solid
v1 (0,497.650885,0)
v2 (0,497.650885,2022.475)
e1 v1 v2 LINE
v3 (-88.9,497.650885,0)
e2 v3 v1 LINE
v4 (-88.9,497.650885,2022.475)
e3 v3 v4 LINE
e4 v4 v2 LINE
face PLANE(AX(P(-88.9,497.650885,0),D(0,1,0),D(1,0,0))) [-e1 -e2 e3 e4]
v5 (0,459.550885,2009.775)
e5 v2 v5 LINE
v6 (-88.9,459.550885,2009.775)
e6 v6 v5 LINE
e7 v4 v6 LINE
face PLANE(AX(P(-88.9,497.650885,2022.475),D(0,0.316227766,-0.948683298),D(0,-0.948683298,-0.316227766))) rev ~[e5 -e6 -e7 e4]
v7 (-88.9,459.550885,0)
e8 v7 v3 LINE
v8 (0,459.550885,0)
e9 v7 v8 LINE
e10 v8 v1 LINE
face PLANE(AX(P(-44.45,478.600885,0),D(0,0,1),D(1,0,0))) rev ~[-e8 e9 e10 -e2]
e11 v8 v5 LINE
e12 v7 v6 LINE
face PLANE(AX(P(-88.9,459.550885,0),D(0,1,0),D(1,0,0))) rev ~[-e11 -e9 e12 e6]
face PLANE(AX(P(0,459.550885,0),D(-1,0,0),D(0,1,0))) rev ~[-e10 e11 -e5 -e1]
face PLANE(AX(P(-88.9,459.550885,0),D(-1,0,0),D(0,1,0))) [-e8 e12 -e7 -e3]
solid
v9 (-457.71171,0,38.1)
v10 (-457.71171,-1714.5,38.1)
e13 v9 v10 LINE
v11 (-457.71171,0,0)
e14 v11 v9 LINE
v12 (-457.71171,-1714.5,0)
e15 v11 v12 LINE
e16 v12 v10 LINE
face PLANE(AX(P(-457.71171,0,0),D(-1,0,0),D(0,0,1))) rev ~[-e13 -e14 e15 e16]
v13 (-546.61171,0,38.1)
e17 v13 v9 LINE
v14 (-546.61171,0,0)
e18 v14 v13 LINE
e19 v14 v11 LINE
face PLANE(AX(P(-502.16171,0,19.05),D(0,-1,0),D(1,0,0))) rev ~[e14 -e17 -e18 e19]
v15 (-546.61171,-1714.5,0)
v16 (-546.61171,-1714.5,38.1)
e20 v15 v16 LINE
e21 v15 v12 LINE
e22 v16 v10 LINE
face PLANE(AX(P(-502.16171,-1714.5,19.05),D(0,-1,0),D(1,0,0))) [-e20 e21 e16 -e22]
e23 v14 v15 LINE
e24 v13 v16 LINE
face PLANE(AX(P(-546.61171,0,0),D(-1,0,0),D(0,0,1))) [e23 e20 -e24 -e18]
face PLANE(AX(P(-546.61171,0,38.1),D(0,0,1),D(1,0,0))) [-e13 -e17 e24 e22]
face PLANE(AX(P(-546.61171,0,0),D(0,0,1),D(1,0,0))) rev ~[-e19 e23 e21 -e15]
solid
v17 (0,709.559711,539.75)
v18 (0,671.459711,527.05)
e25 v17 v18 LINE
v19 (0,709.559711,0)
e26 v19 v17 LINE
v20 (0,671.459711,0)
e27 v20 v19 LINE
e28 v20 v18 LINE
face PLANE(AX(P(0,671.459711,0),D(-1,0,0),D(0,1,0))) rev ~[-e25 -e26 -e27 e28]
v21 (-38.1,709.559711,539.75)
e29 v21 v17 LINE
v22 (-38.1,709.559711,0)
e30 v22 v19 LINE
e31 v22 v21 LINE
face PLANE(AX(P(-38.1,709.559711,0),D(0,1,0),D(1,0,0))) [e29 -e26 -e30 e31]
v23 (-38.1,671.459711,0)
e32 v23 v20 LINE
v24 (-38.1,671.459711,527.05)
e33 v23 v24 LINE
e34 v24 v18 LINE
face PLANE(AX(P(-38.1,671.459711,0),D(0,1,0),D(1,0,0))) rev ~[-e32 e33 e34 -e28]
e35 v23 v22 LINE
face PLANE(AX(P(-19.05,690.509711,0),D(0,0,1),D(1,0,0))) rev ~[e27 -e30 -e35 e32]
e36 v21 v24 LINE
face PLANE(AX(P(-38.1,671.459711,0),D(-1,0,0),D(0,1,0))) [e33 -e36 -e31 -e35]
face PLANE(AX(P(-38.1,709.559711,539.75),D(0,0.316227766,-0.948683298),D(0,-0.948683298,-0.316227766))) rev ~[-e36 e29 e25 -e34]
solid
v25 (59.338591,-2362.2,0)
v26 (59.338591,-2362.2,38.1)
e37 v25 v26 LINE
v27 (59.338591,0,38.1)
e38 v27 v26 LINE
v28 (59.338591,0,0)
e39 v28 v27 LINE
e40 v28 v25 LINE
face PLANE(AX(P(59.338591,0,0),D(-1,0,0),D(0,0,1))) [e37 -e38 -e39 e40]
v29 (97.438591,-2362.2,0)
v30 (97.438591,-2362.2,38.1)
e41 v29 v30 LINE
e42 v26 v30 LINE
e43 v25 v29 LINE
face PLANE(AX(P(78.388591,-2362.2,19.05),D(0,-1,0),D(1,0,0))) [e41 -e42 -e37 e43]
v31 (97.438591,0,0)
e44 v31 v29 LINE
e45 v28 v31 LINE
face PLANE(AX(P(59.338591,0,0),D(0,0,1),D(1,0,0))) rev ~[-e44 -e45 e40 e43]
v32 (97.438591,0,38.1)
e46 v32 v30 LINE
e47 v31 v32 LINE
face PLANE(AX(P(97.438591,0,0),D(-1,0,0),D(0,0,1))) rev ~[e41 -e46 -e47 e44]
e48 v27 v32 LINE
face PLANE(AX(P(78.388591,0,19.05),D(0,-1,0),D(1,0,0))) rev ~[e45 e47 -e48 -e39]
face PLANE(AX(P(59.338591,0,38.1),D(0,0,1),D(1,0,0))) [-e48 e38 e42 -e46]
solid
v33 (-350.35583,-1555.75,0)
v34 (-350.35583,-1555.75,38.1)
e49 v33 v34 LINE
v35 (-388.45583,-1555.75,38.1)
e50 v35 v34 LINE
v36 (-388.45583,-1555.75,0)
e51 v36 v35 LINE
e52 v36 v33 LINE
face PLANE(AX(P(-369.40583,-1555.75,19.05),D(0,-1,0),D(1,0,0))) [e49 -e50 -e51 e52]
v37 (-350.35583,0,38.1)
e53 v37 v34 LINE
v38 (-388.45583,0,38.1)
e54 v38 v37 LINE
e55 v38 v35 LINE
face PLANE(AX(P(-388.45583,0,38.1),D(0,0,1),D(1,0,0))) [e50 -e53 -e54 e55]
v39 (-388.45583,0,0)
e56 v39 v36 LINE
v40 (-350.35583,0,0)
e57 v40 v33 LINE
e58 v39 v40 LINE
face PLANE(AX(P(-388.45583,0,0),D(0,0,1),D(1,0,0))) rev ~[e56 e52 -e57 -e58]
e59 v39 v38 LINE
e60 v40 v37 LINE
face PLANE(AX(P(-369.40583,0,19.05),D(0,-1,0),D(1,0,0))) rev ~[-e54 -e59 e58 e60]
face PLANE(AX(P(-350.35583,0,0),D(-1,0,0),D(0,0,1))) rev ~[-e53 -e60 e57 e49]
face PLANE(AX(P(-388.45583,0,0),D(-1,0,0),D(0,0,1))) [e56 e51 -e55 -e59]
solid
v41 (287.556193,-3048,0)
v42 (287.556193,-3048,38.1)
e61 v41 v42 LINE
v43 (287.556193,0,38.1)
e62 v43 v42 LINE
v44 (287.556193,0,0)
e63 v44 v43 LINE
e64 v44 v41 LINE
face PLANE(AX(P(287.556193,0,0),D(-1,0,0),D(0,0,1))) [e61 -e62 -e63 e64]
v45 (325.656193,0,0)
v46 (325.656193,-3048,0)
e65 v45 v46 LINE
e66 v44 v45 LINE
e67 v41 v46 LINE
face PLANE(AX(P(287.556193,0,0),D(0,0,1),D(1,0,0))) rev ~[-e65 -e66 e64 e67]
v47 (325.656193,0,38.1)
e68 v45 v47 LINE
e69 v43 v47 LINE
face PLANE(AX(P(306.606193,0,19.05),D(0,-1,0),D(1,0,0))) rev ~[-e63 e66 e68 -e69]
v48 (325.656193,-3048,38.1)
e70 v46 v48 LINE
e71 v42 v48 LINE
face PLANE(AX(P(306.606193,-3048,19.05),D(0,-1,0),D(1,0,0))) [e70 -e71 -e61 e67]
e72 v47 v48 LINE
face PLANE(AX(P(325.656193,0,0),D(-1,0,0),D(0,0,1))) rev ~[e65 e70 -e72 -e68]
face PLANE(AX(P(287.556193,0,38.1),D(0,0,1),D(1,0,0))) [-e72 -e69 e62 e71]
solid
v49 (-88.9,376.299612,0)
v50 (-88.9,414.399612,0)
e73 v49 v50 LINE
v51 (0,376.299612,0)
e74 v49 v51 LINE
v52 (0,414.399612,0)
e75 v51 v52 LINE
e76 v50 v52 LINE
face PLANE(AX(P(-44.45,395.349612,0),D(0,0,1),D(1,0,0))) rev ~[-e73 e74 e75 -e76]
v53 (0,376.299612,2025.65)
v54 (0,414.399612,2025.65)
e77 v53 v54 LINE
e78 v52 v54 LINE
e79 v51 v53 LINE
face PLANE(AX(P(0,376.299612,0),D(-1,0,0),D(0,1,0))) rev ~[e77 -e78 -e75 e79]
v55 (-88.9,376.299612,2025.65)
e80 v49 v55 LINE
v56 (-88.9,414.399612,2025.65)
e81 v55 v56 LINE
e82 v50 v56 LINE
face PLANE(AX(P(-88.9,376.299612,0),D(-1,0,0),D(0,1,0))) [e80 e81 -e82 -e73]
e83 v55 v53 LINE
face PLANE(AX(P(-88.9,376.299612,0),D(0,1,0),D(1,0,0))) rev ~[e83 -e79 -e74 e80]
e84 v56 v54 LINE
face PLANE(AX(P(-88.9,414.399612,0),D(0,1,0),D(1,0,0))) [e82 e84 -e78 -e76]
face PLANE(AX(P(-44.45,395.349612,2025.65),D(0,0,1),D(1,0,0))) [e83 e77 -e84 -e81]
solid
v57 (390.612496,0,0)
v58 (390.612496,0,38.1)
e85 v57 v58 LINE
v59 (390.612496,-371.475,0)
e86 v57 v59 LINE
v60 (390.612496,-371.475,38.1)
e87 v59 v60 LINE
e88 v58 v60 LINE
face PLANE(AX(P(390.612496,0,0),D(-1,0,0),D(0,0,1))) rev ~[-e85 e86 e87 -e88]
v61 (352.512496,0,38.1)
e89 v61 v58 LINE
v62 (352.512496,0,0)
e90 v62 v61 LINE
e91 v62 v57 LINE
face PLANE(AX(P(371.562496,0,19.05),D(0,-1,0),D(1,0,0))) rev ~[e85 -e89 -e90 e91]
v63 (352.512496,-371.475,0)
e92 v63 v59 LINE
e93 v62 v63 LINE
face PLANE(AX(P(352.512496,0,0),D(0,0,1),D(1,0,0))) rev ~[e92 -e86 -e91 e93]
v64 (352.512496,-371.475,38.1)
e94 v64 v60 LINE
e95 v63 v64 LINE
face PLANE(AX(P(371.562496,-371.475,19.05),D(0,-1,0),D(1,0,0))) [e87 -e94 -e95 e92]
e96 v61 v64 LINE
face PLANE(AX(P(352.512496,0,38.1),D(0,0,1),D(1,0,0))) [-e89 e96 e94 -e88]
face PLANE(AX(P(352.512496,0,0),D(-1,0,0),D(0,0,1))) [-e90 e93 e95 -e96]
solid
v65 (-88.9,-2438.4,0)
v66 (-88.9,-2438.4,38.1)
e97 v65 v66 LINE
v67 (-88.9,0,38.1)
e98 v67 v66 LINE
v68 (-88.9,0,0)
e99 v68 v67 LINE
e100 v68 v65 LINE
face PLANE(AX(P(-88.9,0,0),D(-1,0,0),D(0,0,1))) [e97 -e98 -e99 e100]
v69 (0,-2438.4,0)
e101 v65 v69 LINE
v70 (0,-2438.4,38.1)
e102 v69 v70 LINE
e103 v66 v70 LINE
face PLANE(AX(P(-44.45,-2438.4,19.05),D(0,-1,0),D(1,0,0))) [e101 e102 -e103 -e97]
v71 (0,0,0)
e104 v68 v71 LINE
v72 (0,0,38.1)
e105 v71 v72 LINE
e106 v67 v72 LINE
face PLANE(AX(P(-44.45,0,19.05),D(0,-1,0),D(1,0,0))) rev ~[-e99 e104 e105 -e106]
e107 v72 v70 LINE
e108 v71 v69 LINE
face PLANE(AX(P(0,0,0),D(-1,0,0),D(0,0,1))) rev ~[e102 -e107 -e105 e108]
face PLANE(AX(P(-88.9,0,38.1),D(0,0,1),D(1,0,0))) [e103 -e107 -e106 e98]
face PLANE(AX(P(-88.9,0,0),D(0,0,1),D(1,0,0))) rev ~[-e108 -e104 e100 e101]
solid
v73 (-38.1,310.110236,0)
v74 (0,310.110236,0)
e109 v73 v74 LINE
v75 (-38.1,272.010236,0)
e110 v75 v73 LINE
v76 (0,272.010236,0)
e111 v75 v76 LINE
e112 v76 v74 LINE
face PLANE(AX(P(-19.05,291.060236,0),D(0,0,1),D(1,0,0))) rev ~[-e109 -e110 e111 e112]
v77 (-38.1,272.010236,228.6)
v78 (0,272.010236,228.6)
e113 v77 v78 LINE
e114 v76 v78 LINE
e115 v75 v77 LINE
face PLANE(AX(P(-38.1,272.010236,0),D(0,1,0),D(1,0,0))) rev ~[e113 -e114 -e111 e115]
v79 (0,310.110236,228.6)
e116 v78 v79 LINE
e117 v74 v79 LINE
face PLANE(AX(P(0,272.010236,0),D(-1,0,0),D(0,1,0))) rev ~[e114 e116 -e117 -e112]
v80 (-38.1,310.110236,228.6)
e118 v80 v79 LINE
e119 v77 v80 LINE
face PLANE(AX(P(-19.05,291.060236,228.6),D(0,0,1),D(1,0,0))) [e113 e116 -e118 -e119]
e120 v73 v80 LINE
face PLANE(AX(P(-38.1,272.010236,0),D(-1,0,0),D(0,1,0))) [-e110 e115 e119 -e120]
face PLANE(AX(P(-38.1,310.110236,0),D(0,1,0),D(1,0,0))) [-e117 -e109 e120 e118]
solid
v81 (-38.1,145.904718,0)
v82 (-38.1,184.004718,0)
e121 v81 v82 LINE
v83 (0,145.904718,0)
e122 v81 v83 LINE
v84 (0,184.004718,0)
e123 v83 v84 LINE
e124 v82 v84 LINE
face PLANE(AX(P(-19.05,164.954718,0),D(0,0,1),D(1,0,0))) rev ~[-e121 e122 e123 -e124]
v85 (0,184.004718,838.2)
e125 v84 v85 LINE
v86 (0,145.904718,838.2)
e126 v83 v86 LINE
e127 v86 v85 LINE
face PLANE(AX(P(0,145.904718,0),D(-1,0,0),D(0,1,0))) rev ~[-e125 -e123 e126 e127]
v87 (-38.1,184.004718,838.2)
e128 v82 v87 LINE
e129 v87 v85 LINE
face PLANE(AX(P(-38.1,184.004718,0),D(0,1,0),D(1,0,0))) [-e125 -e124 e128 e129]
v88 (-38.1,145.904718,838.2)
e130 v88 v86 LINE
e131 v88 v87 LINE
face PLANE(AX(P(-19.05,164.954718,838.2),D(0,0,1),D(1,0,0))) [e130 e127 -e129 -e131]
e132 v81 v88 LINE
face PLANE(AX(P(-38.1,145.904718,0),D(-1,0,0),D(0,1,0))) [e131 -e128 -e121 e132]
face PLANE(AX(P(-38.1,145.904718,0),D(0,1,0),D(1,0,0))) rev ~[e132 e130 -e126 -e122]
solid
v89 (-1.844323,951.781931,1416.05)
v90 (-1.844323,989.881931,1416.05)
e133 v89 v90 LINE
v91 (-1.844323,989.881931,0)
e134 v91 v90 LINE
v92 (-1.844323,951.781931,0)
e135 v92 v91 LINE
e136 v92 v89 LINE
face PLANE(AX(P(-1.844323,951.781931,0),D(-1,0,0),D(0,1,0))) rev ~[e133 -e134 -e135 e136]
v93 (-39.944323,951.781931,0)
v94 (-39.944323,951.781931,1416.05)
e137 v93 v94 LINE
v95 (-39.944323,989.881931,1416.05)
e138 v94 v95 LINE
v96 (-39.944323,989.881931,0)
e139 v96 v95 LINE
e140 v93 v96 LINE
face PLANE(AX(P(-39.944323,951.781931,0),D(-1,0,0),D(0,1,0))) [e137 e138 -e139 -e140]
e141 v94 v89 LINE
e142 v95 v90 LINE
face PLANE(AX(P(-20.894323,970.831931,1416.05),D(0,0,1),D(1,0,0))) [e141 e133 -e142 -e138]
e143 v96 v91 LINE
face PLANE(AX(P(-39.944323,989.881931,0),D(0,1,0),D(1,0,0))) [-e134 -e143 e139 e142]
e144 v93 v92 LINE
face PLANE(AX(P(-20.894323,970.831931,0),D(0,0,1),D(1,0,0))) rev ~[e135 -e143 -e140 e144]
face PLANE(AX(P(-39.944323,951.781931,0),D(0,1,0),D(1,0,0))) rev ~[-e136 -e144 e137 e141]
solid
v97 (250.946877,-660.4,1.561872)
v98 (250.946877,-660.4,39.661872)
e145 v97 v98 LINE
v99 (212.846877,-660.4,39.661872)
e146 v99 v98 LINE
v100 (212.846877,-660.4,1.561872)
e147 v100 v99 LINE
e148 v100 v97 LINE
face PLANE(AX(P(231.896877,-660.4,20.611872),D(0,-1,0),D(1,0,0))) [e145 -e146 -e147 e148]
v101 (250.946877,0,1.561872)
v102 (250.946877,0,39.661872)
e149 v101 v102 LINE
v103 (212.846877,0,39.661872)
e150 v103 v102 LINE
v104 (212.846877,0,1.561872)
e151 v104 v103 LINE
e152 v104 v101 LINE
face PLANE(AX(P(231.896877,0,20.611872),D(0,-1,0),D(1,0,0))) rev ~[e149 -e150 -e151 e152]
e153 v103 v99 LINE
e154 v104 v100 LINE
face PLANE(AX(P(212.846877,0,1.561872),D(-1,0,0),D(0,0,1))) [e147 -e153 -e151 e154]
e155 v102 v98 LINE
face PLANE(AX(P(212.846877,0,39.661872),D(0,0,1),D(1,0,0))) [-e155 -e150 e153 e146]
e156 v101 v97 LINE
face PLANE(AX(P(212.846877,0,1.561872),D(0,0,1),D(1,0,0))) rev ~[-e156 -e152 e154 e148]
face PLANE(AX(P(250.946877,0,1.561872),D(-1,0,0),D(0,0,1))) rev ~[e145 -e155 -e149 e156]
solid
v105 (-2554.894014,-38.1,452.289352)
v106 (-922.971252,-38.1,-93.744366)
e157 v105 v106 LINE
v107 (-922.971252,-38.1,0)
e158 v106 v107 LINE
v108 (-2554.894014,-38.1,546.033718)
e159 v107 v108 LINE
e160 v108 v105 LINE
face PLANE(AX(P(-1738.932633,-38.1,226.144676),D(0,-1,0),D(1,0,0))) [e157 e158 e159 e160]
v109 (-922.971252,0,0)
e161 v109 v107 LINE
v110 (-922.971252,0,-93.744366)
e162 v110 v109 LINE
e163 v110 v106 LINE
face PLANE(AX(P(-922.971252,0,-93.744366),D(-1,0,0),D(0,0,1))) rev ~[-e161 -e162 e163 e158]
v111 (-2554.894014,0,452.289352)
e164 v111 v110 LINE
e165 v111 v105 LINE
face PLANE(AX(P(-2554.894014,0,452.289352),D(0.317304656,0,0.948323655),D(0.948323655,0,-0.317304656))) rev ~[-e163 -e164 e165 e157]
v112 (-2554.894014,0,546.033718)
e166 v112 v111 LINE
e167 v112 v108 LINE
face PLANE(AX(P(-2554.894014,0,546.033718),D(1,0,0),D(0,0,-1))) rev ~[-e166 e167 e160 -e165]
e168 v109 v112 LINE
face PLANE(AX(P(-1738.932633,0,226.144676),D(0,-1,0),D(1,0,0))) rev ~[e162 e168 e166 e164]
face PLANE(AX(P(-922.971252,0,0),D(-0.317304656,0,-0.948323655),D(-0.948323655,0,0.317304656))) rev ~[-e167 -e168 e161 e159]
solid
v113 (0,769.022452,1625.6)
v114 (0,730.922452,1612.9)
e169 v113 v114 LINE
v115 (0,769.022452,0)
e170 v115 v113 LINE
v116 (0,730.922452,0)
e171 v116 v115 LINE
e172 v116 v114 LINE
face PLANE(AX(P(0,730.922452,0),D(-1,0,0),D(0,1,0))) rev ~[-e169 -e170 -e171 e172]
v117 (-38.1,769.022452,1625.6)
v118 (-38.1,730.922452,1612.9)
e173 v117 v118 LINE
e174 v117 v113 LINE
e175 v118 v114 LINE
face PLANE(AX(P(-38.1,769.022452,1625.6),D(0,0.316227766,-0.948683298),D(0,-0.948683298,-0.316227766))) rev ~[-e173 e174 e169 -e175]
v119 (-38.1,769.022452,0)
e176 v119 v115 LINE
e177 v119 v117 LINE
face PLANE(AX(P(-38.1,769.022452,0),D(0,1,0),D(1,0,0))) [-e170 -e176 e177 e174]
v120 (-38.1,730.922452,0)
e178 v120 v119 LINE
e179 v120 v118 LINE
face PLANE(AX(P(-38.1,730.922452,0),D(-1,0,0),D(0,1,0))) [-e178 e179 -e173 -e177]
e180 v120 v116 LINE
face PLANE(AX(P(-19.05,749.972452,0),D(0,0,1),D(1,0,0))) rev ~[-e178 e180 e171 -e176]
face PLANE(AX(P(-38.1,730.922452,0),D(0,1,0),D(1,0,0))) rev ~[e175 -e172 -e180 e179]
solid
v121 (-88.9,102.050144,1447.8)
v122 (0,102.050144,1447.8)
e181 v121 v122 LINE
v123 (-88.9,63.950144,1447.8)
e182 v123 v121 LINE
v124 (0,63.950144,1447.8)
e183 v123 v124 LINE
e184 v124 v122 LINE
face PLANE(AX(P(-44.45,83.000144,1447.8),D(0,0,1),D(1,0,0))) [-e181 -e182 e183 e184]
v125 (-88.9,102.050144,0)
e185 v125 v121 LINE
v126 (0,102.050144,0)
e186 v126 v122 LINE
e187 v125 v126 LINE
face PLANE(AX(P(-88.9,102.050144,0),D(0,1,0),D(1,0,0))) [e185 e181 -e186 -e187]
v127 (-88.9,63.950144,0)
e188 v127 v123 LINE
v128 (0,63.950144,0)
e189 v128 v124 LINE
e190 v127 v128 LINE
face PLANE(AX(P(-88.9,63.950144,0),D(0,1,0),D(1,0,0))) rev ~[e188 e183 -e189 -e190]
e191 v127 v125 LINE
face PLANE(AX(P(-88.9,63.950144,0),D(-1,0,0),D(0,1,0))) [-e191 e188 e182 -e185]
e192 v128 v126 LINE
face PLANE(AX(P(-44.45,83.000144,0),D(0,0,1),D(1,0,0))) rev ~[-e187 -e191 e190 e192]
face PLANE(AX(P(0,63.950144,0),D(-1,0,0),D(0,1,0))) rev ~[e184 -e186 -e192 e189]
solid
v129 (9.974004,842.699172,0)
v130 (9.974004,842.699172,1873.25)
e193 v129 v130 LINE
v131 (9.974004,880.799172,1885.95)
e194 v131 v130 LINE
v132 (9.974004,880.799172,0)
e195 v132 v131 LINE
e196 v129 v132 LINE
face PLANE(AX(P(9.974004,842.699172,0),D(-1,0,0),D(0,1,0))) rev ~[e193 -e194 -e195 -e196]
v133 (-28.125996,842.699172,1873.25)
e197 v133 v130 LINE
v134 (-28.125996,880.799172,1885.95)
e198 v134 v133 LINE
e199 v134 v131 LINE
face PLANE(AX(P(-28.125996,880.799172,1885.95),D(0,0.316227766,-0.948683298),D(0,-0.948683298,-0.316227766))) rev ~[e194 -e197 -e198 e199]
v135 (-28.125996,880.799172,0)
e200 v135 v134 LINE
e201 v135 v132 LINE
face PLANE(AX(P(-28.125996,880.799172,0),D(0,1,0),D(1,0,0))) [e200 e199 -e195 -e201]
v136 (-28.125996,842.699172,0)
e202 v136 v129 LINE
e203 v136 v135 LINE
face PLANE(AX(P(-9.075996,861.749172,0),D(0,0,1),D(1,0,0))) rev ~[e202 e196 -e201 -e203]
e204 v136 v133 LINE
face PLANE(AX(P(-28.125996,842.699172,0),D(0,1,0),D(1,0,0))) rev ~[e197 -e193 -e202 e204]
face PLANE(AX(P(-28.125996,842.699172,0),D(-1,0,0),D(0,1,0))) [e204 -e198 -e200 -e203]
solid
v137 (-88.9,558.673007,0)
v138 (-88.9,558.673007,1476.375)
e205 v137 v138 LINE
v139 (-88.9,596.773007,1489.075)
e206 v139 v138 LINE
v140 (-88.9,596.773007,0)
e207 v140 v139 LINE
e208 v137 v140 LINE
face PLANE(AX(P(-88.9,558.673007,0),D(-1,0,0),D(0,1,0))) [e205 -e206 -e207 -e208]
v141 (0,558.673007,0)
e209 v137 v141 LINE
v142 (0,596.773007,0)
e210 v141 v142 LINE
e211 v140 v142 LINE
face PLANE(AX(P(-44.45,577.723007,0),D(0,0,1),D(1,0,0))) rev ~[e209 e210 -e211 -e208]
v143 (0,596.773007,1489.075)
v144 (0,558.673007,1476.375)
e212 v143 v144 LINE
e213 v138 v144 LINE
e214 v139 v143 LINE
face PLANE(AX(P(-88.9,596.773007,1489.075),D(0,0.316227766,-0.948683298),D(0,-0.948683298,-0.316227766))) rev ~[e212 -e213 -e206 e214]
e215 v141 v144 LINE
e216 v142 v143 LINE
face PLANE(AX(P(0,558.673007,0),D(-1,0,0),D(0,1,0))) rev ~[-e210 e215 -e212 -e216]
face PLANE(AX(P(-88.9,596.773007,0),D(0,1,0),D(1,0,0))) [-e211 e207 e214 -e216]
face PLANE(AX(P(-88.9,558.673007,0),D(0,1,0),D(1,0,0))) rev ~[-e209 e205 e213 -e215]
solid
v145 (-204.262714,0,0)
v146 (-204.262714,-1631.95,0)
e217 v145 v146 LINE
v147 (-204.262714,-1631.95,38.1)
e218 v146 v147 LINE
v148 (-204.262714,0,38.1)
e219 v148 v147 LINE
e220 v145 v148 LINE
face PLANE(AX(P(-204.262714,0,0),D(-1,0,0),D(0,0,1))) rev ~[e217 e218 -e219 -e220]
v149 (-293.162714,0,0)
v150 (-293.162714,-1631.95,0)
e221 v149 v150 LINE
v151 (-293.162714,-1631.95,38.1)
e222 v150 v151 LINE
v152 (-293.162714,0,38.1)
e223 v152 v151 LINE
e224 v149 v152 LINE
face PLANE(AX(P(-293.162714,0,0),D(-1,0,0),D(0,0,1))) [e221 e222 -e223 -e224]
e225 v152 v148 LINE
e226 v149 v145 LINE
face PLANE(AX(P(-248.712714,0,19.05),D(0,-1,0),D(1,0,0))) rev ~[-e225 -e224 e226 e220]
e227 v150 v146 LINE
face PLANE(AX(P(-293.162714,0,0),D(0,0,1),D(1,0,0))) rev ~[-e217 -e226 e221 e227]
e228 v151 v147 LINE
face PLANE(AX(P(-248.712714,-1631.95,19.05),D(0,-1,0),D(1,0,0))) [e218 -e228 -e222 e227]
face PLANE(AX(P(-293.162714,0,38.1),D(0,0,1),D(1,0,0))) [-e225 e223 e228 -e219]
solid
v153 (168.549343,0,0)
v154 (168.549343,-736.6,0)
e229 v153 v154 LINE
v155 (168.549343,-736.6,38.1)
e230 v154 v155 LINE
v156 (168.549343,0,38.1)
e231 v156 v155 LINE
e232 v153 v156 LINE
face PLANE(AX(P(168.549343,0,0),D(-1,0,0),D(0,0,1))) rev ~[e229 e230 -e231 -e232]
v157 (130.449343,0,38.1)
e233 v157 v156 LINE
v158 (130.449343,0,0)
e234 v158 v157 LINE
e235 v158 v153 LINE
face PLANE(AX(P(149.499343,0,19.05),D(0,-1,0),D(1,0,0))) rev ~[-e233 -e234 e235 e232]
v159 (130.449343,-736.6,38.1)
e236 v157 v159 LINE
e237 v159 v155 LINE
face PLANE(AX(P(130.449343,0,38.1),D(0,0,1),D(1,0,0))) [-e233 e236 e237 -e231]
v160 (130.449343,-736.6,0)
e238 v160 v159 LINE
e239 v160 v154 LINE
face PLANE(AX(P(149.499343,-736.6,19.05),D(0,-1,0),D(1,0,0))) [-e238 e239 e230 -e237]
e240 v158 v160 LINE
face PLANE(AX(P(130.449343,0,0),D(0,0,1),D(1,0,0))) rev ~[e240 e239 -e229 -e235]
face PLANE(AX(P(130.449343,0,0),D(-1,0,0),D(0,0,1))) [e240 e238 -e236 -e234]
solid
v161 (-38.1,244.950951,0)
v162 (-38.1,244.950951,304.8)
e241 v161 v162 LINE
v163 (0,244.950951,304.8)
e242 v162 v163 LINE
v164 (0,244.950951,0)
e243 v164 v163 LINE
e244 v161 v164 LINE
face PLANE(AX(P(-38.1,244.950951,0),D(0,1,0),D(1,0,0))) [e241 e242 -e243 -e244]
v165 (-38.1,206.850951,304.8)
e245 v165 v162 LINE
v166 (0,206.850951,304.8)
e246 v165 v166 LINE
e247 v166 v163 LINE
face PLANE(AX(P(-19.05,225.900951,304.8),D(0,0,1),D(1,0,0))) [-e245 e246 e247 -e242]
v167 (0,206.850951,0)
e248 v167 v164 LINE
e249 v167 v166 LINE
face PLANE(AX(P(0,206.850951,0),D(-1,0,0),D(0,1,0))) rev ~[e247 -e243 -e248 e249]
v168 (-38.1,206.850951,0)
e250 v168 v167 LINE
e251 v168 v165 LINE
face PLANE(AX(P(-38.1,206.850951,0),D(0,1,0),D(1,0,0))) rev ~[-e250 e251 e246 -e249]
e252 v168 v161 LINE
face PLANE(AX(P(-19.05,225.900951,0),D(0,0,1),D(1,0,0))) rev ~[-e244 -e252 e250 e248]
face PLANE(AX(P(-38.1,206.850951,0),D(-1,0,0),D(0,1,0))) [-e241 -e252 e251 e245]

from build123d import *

# Parameters (mm, degrees)
F0_W      = 88.9
F0_H      = 38.1
F1_DEPTH  = 2438.4
F2_W      = 88.9
F2_H      = 38.1
F3_DEPTH  = 1447.8
F4_W      = 38.1
F4_H      = 38.1
F5_DEPTH  = 2362.2
F6_W      = 38.1
F6_H      = 38.1
F7_DEPTH  = 838.2
F8_W      = 38.1
F8_H      = 38.1
F9_DEPTH  = 228.6
F10_W     = 38.1
F10_H     = 38.1
F11_DEPTH = 304.8
F12_W     = 88.9
F12_H     = 38.1
F13_DEPTH = 2025.65
F14_W     = 88.9
F14_H     = 38.1
F15_DEPTH = 1631.95
F16_W     = 38.1
F16_H     = 38.1
F17_DEPTH = 1555.75
F18_W     = 88.9
F18_H     = 38.1
F19_DEPTH = 2022.475
F21_DEPTH = 88.9
F22_W     = 88.9
F22_H     = 38.1
F23_DEPTH = 1489.075
F25_DEPTH = 88.9
F26_W     = 88.9
F26_H     = 38.1
F27_DEPTH = 1714.5
F28_W     = 38.1
F28_H     = 38.1
F29_DEPTH = 539.75
F31_DEPTH = 38.1
F33_DEPTH = 38.1
F34_W     = 38.1
F34_H     = 38.1
F35_DEPTH = 1625.6
F36_W     = 38.1
F36_H     = 38.1
F37_DEPTH = 1885.95
F39_DEPTH = 38.1
F41_DEPTH = 38.1
F42_W     = 38.1
F42_H     = 38.1
F43_DEPTH = 736.6
F44_W     = 38.1
F44_H     = 38.1
F45_DEPTH = 660.4
F46_W     = 38.1
F46_H     = 38.1
F47_DEPTH = 1416.05
F48_W     = 38.1
F48_H     = 38.1
F49_DEPTH = 3048
F50_W     = 38.1
F50_H     = 38.1
F51_DEPTH = 371.475


with BuildPart() as f1:
    # F0 (on Front) → F1 (new body)
    with BuildSketch(Plane.XZ):
        with Locations((-44.45, 19.05)):
            Rectangle(F0_W, F0_H)
    extrude(amount=F1_DEPTH)


with BuildPart() as f3:
    # F2 (on Top) → F3 (new body)
    with BuildSketch(Plane.XY):
        with Locations((-44.45, 83.000144)):
            Rectangle(F2_W, F2_H)
    extrude(amount=F3_DEPTH)


with BuildPart() as f5:
    # F4 (on Front) → F5 (new body)
    with BuildSketch(Plane.XZ):
        with Locations((78.388591, 19.05)):
            Rectangle(F4_W, F4_H)
    extrude(amount=F5_DEPTH)


with BuildPart() as f7:
    # F6 (on Top) → F7 (new body)
    with BuildSketch(Plane.XY):
        with Locations((-19.05, 164.954718)):
            Rectangle(F6_W, F6_H)
    extrude(amount=F7_DEPTH)


with BuildPart() as f9:
    # F8 (on Top) → F9 (new body)
    with BuildSketch(Plane.XY):
        with Locations((-19.05, 291.060236)):
            Rectangle(F8_W, F8_H)
    extrude(amount=F9_DEPTH)


with BuildPart() as f11:
    # F10 (on Top) → F11 (new body)
    with BuildSketch(Plane.XY):
        with Locations((-19.05, 225.900951)):
            Rectangle(F10_W, F10_H)
    extrude(amount=F11_DEPTH)


with BuildPart() as f13:
    # F12 (on Top) → F13 (new body)
    with BuildSketch(Plane.XY):
        with Locations((-44.45, 395.349612)):
            Rectangle(F12_W, F12_H)
    extrude(amount=F13_DEPTH)


with BuildPart() as f15:
    # F14 (on Front) → F15 (new body)
    with BuildSketch(Plane.XZ):
        with Locations((-248.712714, 19.05)):
            Rectangle(F14_W, F14_H)
    extrude(amount=F15_DEPTH)


with BuildPart() as f17:
    # F16 (on Front) → F17 (new body)
    with BuildSketch(Plane.XZ):
        with Locations((-369.40583, 19.05)):
            Rectangle(F16_W, F16_H)
    extrude(amount=F17_DEPTH)


with BuildPart() as f19:
    # F18 (on Top) → F19 (new body)
    with BuildSketch(Plane.XY):
        with Locations((-44.45, 478.600885)):
            Rectangle(F18_W, F18_H)
    extrude(amount=F19_DEPTH)

    # F20 (on face) → F21 (cut)
    with BuildSketch(Plane(origin=(-88.9, 0, 0), x_dir=(0, -1, 0), z_dir=(-1, 0, 0))):
        Polygon((-459.550885, 2022.475), (-497.650885, 2022.475), (-459.550885, 2009.775), align=None)
    extrude(amount=-F21_DEPTH, mode=Mode.SUBTRACT)


with BuildPart() as f23:
    # F22 (on Top) → F23 (new body)
    with BuildSketch(Plane.XY):
        with Locations((-44.45, 577.723007)):
            Rectangle(F22_W, F22_H)
    extrude(amount=F23_DEPTH)

    # F24 (on face) → F25 (cut)
    with BuildSketch(Plane(origin=(-88.9, 0, 0), x_dir=(0, -1, 0), z_dir=(-1, 0, 0))):
        Polygon((-558.673007, 1489.075), (-596.773007, 1489.075), (-558.673007, 1476.375), align=None)
    extrude(amount=-F25_DEPTH, mode=Mode.SUBTRACT)


with BuildPart() as f27:
    # F26 (on Front) → F27 (new body)
    with BuildSketch(Plane.XZ):
        with Locations((-502.16171, 19.05)):
            Rectangle(F26_W, F26_H)
    extrude(amount=F27_DEPTH)


with BuildPart() as f29:
    # F28 (on Top) → F29 (new body)
    with BuildSketch(Plane.XY):
        with Locations((-19.05, 690.509711)):
            Rectangle(F28_W, F28_H)
    extrude(amount=F29_DEPTH)

    # F30 (on face) → F31 (cut)
    with BuildSketch(Plane(origin=(-38.1, 0, 0), x_dir=(0, -1, 0), z_dir=(-1, 0, 0))):
        Polygon((-671.459711, 539.75), (-709.559711, 539.75), (-671.459711, 527.05), align=None)
    extrude(amount=-F31_DEPTH, mode=Mode.SUBTRACT)


with BuildPart() as f33:
    # F32 (on Front) → F33 (new body)
    with BuildSketch(Plane.XZ):
        Polygon((-922.971252, -93.744366), (-922.971252, 0), (-2554.894014, 546.033718), (-2554.894014, 452.289352), align=None)
    extrude(amount=F33_DEPTH)


with BuildPart() as f35:
    # F34 (on Top) → F35 (new body)
    with BuildSketch(Plane.XY):
        with Locations((-19.05, 749.972452)):
            Rectangle(F34_W, F34_H)
    extrude(amount=F35_DEPTH)

    # F40 (on face) → F41 (cut)
    with BuildSketch(Plane(origin=(-38.1, 0, 0), x_dir=(0, -1, 0), z_dir=(-1, 0, 0))):
        Polygon((-730.922452, 1625.6), (-769.022452, 1625.6), (-730.922452, 1612.9), align=None)
    extrude(amount=-F41_DEPTH, mode=Mode.SUBTRACT)


with BuildPart() as f37:
    # F36 (on Top) → F37 (new body)
    with BuildSketch(Plane.XY):
        with Locations((-9.075996, 861.749172)):
            Rectangle(F36_W, F36_H)
    extrude(amount=F37_DEPTH)

    # F38 (on face) → F39 (cut)
    with BuildSketch(Plane(origin=(-28.125996, 0, 0), x_dir=(0, -1, 0), z_dir=(-1, 0, 0))):
        Polygon((-842.699172, 1885.95), (-880.799172, 1885.95), (-842.699172, 1873.25), align=None)
    extrude(amount=-F39_DEPTH, mode=Mode.SUBTRACT)


with BuildPart() as f43:
    # F42 (on Front) → F43 (new body)
    with BuildSketch(Plane.XZ):
        with Locations((149.499343, 19.05)):
            Rectangle(F42_W, F42_H)
    extrude(amount=F43_DEPTH)


with BuildPart() as f45:
    # F44 (on Front) → F45 (new body)
    with BuildSketch(Plane.XZ):
        with Locations((231.896877, 20.611872)):
            Rectangle(F44_W, F44_H)
    extrude(amount=F45_DEPTH)


with BuildPart() as f47:
    # F46 (on Top) → F47 (new body)
    with BuildSketch(Plane.XY):
        with Locations((-20.894323, 970.831931)):
            Rectangle(F46_W, F46_H)
    extrude(amount=F47_DEPTH)


with BuildPart() as f49:
    # F48 (on Front) → F49 (new body)
    with BuildSketch(Plane.XZ):
        with Locations((306.606193, 19.05)):
            Rectangle(F48_W, F48_H)
    extrude(amount=F49_DEPTH)


with BuildPart() as f51:
    # F50 (on Front) → F51 (new body)
    with BuildSketch(Plane.XZ):
        with Locations((371.562496, 19.05)):
            Rectangle(F50_W, F50_H)
    extrude(amount=F51_DEPTH)


solid = Compound([f1.part, f3.part, f5.part, f7.part, f9.part, f11.part, f13.part, f15.part, f17.part, f19.part, f23.part, f27.part, f29.part, f33.part, f35.part, f37.part, f43.part, f45.part, f47.part, f49.part, f51.part])
